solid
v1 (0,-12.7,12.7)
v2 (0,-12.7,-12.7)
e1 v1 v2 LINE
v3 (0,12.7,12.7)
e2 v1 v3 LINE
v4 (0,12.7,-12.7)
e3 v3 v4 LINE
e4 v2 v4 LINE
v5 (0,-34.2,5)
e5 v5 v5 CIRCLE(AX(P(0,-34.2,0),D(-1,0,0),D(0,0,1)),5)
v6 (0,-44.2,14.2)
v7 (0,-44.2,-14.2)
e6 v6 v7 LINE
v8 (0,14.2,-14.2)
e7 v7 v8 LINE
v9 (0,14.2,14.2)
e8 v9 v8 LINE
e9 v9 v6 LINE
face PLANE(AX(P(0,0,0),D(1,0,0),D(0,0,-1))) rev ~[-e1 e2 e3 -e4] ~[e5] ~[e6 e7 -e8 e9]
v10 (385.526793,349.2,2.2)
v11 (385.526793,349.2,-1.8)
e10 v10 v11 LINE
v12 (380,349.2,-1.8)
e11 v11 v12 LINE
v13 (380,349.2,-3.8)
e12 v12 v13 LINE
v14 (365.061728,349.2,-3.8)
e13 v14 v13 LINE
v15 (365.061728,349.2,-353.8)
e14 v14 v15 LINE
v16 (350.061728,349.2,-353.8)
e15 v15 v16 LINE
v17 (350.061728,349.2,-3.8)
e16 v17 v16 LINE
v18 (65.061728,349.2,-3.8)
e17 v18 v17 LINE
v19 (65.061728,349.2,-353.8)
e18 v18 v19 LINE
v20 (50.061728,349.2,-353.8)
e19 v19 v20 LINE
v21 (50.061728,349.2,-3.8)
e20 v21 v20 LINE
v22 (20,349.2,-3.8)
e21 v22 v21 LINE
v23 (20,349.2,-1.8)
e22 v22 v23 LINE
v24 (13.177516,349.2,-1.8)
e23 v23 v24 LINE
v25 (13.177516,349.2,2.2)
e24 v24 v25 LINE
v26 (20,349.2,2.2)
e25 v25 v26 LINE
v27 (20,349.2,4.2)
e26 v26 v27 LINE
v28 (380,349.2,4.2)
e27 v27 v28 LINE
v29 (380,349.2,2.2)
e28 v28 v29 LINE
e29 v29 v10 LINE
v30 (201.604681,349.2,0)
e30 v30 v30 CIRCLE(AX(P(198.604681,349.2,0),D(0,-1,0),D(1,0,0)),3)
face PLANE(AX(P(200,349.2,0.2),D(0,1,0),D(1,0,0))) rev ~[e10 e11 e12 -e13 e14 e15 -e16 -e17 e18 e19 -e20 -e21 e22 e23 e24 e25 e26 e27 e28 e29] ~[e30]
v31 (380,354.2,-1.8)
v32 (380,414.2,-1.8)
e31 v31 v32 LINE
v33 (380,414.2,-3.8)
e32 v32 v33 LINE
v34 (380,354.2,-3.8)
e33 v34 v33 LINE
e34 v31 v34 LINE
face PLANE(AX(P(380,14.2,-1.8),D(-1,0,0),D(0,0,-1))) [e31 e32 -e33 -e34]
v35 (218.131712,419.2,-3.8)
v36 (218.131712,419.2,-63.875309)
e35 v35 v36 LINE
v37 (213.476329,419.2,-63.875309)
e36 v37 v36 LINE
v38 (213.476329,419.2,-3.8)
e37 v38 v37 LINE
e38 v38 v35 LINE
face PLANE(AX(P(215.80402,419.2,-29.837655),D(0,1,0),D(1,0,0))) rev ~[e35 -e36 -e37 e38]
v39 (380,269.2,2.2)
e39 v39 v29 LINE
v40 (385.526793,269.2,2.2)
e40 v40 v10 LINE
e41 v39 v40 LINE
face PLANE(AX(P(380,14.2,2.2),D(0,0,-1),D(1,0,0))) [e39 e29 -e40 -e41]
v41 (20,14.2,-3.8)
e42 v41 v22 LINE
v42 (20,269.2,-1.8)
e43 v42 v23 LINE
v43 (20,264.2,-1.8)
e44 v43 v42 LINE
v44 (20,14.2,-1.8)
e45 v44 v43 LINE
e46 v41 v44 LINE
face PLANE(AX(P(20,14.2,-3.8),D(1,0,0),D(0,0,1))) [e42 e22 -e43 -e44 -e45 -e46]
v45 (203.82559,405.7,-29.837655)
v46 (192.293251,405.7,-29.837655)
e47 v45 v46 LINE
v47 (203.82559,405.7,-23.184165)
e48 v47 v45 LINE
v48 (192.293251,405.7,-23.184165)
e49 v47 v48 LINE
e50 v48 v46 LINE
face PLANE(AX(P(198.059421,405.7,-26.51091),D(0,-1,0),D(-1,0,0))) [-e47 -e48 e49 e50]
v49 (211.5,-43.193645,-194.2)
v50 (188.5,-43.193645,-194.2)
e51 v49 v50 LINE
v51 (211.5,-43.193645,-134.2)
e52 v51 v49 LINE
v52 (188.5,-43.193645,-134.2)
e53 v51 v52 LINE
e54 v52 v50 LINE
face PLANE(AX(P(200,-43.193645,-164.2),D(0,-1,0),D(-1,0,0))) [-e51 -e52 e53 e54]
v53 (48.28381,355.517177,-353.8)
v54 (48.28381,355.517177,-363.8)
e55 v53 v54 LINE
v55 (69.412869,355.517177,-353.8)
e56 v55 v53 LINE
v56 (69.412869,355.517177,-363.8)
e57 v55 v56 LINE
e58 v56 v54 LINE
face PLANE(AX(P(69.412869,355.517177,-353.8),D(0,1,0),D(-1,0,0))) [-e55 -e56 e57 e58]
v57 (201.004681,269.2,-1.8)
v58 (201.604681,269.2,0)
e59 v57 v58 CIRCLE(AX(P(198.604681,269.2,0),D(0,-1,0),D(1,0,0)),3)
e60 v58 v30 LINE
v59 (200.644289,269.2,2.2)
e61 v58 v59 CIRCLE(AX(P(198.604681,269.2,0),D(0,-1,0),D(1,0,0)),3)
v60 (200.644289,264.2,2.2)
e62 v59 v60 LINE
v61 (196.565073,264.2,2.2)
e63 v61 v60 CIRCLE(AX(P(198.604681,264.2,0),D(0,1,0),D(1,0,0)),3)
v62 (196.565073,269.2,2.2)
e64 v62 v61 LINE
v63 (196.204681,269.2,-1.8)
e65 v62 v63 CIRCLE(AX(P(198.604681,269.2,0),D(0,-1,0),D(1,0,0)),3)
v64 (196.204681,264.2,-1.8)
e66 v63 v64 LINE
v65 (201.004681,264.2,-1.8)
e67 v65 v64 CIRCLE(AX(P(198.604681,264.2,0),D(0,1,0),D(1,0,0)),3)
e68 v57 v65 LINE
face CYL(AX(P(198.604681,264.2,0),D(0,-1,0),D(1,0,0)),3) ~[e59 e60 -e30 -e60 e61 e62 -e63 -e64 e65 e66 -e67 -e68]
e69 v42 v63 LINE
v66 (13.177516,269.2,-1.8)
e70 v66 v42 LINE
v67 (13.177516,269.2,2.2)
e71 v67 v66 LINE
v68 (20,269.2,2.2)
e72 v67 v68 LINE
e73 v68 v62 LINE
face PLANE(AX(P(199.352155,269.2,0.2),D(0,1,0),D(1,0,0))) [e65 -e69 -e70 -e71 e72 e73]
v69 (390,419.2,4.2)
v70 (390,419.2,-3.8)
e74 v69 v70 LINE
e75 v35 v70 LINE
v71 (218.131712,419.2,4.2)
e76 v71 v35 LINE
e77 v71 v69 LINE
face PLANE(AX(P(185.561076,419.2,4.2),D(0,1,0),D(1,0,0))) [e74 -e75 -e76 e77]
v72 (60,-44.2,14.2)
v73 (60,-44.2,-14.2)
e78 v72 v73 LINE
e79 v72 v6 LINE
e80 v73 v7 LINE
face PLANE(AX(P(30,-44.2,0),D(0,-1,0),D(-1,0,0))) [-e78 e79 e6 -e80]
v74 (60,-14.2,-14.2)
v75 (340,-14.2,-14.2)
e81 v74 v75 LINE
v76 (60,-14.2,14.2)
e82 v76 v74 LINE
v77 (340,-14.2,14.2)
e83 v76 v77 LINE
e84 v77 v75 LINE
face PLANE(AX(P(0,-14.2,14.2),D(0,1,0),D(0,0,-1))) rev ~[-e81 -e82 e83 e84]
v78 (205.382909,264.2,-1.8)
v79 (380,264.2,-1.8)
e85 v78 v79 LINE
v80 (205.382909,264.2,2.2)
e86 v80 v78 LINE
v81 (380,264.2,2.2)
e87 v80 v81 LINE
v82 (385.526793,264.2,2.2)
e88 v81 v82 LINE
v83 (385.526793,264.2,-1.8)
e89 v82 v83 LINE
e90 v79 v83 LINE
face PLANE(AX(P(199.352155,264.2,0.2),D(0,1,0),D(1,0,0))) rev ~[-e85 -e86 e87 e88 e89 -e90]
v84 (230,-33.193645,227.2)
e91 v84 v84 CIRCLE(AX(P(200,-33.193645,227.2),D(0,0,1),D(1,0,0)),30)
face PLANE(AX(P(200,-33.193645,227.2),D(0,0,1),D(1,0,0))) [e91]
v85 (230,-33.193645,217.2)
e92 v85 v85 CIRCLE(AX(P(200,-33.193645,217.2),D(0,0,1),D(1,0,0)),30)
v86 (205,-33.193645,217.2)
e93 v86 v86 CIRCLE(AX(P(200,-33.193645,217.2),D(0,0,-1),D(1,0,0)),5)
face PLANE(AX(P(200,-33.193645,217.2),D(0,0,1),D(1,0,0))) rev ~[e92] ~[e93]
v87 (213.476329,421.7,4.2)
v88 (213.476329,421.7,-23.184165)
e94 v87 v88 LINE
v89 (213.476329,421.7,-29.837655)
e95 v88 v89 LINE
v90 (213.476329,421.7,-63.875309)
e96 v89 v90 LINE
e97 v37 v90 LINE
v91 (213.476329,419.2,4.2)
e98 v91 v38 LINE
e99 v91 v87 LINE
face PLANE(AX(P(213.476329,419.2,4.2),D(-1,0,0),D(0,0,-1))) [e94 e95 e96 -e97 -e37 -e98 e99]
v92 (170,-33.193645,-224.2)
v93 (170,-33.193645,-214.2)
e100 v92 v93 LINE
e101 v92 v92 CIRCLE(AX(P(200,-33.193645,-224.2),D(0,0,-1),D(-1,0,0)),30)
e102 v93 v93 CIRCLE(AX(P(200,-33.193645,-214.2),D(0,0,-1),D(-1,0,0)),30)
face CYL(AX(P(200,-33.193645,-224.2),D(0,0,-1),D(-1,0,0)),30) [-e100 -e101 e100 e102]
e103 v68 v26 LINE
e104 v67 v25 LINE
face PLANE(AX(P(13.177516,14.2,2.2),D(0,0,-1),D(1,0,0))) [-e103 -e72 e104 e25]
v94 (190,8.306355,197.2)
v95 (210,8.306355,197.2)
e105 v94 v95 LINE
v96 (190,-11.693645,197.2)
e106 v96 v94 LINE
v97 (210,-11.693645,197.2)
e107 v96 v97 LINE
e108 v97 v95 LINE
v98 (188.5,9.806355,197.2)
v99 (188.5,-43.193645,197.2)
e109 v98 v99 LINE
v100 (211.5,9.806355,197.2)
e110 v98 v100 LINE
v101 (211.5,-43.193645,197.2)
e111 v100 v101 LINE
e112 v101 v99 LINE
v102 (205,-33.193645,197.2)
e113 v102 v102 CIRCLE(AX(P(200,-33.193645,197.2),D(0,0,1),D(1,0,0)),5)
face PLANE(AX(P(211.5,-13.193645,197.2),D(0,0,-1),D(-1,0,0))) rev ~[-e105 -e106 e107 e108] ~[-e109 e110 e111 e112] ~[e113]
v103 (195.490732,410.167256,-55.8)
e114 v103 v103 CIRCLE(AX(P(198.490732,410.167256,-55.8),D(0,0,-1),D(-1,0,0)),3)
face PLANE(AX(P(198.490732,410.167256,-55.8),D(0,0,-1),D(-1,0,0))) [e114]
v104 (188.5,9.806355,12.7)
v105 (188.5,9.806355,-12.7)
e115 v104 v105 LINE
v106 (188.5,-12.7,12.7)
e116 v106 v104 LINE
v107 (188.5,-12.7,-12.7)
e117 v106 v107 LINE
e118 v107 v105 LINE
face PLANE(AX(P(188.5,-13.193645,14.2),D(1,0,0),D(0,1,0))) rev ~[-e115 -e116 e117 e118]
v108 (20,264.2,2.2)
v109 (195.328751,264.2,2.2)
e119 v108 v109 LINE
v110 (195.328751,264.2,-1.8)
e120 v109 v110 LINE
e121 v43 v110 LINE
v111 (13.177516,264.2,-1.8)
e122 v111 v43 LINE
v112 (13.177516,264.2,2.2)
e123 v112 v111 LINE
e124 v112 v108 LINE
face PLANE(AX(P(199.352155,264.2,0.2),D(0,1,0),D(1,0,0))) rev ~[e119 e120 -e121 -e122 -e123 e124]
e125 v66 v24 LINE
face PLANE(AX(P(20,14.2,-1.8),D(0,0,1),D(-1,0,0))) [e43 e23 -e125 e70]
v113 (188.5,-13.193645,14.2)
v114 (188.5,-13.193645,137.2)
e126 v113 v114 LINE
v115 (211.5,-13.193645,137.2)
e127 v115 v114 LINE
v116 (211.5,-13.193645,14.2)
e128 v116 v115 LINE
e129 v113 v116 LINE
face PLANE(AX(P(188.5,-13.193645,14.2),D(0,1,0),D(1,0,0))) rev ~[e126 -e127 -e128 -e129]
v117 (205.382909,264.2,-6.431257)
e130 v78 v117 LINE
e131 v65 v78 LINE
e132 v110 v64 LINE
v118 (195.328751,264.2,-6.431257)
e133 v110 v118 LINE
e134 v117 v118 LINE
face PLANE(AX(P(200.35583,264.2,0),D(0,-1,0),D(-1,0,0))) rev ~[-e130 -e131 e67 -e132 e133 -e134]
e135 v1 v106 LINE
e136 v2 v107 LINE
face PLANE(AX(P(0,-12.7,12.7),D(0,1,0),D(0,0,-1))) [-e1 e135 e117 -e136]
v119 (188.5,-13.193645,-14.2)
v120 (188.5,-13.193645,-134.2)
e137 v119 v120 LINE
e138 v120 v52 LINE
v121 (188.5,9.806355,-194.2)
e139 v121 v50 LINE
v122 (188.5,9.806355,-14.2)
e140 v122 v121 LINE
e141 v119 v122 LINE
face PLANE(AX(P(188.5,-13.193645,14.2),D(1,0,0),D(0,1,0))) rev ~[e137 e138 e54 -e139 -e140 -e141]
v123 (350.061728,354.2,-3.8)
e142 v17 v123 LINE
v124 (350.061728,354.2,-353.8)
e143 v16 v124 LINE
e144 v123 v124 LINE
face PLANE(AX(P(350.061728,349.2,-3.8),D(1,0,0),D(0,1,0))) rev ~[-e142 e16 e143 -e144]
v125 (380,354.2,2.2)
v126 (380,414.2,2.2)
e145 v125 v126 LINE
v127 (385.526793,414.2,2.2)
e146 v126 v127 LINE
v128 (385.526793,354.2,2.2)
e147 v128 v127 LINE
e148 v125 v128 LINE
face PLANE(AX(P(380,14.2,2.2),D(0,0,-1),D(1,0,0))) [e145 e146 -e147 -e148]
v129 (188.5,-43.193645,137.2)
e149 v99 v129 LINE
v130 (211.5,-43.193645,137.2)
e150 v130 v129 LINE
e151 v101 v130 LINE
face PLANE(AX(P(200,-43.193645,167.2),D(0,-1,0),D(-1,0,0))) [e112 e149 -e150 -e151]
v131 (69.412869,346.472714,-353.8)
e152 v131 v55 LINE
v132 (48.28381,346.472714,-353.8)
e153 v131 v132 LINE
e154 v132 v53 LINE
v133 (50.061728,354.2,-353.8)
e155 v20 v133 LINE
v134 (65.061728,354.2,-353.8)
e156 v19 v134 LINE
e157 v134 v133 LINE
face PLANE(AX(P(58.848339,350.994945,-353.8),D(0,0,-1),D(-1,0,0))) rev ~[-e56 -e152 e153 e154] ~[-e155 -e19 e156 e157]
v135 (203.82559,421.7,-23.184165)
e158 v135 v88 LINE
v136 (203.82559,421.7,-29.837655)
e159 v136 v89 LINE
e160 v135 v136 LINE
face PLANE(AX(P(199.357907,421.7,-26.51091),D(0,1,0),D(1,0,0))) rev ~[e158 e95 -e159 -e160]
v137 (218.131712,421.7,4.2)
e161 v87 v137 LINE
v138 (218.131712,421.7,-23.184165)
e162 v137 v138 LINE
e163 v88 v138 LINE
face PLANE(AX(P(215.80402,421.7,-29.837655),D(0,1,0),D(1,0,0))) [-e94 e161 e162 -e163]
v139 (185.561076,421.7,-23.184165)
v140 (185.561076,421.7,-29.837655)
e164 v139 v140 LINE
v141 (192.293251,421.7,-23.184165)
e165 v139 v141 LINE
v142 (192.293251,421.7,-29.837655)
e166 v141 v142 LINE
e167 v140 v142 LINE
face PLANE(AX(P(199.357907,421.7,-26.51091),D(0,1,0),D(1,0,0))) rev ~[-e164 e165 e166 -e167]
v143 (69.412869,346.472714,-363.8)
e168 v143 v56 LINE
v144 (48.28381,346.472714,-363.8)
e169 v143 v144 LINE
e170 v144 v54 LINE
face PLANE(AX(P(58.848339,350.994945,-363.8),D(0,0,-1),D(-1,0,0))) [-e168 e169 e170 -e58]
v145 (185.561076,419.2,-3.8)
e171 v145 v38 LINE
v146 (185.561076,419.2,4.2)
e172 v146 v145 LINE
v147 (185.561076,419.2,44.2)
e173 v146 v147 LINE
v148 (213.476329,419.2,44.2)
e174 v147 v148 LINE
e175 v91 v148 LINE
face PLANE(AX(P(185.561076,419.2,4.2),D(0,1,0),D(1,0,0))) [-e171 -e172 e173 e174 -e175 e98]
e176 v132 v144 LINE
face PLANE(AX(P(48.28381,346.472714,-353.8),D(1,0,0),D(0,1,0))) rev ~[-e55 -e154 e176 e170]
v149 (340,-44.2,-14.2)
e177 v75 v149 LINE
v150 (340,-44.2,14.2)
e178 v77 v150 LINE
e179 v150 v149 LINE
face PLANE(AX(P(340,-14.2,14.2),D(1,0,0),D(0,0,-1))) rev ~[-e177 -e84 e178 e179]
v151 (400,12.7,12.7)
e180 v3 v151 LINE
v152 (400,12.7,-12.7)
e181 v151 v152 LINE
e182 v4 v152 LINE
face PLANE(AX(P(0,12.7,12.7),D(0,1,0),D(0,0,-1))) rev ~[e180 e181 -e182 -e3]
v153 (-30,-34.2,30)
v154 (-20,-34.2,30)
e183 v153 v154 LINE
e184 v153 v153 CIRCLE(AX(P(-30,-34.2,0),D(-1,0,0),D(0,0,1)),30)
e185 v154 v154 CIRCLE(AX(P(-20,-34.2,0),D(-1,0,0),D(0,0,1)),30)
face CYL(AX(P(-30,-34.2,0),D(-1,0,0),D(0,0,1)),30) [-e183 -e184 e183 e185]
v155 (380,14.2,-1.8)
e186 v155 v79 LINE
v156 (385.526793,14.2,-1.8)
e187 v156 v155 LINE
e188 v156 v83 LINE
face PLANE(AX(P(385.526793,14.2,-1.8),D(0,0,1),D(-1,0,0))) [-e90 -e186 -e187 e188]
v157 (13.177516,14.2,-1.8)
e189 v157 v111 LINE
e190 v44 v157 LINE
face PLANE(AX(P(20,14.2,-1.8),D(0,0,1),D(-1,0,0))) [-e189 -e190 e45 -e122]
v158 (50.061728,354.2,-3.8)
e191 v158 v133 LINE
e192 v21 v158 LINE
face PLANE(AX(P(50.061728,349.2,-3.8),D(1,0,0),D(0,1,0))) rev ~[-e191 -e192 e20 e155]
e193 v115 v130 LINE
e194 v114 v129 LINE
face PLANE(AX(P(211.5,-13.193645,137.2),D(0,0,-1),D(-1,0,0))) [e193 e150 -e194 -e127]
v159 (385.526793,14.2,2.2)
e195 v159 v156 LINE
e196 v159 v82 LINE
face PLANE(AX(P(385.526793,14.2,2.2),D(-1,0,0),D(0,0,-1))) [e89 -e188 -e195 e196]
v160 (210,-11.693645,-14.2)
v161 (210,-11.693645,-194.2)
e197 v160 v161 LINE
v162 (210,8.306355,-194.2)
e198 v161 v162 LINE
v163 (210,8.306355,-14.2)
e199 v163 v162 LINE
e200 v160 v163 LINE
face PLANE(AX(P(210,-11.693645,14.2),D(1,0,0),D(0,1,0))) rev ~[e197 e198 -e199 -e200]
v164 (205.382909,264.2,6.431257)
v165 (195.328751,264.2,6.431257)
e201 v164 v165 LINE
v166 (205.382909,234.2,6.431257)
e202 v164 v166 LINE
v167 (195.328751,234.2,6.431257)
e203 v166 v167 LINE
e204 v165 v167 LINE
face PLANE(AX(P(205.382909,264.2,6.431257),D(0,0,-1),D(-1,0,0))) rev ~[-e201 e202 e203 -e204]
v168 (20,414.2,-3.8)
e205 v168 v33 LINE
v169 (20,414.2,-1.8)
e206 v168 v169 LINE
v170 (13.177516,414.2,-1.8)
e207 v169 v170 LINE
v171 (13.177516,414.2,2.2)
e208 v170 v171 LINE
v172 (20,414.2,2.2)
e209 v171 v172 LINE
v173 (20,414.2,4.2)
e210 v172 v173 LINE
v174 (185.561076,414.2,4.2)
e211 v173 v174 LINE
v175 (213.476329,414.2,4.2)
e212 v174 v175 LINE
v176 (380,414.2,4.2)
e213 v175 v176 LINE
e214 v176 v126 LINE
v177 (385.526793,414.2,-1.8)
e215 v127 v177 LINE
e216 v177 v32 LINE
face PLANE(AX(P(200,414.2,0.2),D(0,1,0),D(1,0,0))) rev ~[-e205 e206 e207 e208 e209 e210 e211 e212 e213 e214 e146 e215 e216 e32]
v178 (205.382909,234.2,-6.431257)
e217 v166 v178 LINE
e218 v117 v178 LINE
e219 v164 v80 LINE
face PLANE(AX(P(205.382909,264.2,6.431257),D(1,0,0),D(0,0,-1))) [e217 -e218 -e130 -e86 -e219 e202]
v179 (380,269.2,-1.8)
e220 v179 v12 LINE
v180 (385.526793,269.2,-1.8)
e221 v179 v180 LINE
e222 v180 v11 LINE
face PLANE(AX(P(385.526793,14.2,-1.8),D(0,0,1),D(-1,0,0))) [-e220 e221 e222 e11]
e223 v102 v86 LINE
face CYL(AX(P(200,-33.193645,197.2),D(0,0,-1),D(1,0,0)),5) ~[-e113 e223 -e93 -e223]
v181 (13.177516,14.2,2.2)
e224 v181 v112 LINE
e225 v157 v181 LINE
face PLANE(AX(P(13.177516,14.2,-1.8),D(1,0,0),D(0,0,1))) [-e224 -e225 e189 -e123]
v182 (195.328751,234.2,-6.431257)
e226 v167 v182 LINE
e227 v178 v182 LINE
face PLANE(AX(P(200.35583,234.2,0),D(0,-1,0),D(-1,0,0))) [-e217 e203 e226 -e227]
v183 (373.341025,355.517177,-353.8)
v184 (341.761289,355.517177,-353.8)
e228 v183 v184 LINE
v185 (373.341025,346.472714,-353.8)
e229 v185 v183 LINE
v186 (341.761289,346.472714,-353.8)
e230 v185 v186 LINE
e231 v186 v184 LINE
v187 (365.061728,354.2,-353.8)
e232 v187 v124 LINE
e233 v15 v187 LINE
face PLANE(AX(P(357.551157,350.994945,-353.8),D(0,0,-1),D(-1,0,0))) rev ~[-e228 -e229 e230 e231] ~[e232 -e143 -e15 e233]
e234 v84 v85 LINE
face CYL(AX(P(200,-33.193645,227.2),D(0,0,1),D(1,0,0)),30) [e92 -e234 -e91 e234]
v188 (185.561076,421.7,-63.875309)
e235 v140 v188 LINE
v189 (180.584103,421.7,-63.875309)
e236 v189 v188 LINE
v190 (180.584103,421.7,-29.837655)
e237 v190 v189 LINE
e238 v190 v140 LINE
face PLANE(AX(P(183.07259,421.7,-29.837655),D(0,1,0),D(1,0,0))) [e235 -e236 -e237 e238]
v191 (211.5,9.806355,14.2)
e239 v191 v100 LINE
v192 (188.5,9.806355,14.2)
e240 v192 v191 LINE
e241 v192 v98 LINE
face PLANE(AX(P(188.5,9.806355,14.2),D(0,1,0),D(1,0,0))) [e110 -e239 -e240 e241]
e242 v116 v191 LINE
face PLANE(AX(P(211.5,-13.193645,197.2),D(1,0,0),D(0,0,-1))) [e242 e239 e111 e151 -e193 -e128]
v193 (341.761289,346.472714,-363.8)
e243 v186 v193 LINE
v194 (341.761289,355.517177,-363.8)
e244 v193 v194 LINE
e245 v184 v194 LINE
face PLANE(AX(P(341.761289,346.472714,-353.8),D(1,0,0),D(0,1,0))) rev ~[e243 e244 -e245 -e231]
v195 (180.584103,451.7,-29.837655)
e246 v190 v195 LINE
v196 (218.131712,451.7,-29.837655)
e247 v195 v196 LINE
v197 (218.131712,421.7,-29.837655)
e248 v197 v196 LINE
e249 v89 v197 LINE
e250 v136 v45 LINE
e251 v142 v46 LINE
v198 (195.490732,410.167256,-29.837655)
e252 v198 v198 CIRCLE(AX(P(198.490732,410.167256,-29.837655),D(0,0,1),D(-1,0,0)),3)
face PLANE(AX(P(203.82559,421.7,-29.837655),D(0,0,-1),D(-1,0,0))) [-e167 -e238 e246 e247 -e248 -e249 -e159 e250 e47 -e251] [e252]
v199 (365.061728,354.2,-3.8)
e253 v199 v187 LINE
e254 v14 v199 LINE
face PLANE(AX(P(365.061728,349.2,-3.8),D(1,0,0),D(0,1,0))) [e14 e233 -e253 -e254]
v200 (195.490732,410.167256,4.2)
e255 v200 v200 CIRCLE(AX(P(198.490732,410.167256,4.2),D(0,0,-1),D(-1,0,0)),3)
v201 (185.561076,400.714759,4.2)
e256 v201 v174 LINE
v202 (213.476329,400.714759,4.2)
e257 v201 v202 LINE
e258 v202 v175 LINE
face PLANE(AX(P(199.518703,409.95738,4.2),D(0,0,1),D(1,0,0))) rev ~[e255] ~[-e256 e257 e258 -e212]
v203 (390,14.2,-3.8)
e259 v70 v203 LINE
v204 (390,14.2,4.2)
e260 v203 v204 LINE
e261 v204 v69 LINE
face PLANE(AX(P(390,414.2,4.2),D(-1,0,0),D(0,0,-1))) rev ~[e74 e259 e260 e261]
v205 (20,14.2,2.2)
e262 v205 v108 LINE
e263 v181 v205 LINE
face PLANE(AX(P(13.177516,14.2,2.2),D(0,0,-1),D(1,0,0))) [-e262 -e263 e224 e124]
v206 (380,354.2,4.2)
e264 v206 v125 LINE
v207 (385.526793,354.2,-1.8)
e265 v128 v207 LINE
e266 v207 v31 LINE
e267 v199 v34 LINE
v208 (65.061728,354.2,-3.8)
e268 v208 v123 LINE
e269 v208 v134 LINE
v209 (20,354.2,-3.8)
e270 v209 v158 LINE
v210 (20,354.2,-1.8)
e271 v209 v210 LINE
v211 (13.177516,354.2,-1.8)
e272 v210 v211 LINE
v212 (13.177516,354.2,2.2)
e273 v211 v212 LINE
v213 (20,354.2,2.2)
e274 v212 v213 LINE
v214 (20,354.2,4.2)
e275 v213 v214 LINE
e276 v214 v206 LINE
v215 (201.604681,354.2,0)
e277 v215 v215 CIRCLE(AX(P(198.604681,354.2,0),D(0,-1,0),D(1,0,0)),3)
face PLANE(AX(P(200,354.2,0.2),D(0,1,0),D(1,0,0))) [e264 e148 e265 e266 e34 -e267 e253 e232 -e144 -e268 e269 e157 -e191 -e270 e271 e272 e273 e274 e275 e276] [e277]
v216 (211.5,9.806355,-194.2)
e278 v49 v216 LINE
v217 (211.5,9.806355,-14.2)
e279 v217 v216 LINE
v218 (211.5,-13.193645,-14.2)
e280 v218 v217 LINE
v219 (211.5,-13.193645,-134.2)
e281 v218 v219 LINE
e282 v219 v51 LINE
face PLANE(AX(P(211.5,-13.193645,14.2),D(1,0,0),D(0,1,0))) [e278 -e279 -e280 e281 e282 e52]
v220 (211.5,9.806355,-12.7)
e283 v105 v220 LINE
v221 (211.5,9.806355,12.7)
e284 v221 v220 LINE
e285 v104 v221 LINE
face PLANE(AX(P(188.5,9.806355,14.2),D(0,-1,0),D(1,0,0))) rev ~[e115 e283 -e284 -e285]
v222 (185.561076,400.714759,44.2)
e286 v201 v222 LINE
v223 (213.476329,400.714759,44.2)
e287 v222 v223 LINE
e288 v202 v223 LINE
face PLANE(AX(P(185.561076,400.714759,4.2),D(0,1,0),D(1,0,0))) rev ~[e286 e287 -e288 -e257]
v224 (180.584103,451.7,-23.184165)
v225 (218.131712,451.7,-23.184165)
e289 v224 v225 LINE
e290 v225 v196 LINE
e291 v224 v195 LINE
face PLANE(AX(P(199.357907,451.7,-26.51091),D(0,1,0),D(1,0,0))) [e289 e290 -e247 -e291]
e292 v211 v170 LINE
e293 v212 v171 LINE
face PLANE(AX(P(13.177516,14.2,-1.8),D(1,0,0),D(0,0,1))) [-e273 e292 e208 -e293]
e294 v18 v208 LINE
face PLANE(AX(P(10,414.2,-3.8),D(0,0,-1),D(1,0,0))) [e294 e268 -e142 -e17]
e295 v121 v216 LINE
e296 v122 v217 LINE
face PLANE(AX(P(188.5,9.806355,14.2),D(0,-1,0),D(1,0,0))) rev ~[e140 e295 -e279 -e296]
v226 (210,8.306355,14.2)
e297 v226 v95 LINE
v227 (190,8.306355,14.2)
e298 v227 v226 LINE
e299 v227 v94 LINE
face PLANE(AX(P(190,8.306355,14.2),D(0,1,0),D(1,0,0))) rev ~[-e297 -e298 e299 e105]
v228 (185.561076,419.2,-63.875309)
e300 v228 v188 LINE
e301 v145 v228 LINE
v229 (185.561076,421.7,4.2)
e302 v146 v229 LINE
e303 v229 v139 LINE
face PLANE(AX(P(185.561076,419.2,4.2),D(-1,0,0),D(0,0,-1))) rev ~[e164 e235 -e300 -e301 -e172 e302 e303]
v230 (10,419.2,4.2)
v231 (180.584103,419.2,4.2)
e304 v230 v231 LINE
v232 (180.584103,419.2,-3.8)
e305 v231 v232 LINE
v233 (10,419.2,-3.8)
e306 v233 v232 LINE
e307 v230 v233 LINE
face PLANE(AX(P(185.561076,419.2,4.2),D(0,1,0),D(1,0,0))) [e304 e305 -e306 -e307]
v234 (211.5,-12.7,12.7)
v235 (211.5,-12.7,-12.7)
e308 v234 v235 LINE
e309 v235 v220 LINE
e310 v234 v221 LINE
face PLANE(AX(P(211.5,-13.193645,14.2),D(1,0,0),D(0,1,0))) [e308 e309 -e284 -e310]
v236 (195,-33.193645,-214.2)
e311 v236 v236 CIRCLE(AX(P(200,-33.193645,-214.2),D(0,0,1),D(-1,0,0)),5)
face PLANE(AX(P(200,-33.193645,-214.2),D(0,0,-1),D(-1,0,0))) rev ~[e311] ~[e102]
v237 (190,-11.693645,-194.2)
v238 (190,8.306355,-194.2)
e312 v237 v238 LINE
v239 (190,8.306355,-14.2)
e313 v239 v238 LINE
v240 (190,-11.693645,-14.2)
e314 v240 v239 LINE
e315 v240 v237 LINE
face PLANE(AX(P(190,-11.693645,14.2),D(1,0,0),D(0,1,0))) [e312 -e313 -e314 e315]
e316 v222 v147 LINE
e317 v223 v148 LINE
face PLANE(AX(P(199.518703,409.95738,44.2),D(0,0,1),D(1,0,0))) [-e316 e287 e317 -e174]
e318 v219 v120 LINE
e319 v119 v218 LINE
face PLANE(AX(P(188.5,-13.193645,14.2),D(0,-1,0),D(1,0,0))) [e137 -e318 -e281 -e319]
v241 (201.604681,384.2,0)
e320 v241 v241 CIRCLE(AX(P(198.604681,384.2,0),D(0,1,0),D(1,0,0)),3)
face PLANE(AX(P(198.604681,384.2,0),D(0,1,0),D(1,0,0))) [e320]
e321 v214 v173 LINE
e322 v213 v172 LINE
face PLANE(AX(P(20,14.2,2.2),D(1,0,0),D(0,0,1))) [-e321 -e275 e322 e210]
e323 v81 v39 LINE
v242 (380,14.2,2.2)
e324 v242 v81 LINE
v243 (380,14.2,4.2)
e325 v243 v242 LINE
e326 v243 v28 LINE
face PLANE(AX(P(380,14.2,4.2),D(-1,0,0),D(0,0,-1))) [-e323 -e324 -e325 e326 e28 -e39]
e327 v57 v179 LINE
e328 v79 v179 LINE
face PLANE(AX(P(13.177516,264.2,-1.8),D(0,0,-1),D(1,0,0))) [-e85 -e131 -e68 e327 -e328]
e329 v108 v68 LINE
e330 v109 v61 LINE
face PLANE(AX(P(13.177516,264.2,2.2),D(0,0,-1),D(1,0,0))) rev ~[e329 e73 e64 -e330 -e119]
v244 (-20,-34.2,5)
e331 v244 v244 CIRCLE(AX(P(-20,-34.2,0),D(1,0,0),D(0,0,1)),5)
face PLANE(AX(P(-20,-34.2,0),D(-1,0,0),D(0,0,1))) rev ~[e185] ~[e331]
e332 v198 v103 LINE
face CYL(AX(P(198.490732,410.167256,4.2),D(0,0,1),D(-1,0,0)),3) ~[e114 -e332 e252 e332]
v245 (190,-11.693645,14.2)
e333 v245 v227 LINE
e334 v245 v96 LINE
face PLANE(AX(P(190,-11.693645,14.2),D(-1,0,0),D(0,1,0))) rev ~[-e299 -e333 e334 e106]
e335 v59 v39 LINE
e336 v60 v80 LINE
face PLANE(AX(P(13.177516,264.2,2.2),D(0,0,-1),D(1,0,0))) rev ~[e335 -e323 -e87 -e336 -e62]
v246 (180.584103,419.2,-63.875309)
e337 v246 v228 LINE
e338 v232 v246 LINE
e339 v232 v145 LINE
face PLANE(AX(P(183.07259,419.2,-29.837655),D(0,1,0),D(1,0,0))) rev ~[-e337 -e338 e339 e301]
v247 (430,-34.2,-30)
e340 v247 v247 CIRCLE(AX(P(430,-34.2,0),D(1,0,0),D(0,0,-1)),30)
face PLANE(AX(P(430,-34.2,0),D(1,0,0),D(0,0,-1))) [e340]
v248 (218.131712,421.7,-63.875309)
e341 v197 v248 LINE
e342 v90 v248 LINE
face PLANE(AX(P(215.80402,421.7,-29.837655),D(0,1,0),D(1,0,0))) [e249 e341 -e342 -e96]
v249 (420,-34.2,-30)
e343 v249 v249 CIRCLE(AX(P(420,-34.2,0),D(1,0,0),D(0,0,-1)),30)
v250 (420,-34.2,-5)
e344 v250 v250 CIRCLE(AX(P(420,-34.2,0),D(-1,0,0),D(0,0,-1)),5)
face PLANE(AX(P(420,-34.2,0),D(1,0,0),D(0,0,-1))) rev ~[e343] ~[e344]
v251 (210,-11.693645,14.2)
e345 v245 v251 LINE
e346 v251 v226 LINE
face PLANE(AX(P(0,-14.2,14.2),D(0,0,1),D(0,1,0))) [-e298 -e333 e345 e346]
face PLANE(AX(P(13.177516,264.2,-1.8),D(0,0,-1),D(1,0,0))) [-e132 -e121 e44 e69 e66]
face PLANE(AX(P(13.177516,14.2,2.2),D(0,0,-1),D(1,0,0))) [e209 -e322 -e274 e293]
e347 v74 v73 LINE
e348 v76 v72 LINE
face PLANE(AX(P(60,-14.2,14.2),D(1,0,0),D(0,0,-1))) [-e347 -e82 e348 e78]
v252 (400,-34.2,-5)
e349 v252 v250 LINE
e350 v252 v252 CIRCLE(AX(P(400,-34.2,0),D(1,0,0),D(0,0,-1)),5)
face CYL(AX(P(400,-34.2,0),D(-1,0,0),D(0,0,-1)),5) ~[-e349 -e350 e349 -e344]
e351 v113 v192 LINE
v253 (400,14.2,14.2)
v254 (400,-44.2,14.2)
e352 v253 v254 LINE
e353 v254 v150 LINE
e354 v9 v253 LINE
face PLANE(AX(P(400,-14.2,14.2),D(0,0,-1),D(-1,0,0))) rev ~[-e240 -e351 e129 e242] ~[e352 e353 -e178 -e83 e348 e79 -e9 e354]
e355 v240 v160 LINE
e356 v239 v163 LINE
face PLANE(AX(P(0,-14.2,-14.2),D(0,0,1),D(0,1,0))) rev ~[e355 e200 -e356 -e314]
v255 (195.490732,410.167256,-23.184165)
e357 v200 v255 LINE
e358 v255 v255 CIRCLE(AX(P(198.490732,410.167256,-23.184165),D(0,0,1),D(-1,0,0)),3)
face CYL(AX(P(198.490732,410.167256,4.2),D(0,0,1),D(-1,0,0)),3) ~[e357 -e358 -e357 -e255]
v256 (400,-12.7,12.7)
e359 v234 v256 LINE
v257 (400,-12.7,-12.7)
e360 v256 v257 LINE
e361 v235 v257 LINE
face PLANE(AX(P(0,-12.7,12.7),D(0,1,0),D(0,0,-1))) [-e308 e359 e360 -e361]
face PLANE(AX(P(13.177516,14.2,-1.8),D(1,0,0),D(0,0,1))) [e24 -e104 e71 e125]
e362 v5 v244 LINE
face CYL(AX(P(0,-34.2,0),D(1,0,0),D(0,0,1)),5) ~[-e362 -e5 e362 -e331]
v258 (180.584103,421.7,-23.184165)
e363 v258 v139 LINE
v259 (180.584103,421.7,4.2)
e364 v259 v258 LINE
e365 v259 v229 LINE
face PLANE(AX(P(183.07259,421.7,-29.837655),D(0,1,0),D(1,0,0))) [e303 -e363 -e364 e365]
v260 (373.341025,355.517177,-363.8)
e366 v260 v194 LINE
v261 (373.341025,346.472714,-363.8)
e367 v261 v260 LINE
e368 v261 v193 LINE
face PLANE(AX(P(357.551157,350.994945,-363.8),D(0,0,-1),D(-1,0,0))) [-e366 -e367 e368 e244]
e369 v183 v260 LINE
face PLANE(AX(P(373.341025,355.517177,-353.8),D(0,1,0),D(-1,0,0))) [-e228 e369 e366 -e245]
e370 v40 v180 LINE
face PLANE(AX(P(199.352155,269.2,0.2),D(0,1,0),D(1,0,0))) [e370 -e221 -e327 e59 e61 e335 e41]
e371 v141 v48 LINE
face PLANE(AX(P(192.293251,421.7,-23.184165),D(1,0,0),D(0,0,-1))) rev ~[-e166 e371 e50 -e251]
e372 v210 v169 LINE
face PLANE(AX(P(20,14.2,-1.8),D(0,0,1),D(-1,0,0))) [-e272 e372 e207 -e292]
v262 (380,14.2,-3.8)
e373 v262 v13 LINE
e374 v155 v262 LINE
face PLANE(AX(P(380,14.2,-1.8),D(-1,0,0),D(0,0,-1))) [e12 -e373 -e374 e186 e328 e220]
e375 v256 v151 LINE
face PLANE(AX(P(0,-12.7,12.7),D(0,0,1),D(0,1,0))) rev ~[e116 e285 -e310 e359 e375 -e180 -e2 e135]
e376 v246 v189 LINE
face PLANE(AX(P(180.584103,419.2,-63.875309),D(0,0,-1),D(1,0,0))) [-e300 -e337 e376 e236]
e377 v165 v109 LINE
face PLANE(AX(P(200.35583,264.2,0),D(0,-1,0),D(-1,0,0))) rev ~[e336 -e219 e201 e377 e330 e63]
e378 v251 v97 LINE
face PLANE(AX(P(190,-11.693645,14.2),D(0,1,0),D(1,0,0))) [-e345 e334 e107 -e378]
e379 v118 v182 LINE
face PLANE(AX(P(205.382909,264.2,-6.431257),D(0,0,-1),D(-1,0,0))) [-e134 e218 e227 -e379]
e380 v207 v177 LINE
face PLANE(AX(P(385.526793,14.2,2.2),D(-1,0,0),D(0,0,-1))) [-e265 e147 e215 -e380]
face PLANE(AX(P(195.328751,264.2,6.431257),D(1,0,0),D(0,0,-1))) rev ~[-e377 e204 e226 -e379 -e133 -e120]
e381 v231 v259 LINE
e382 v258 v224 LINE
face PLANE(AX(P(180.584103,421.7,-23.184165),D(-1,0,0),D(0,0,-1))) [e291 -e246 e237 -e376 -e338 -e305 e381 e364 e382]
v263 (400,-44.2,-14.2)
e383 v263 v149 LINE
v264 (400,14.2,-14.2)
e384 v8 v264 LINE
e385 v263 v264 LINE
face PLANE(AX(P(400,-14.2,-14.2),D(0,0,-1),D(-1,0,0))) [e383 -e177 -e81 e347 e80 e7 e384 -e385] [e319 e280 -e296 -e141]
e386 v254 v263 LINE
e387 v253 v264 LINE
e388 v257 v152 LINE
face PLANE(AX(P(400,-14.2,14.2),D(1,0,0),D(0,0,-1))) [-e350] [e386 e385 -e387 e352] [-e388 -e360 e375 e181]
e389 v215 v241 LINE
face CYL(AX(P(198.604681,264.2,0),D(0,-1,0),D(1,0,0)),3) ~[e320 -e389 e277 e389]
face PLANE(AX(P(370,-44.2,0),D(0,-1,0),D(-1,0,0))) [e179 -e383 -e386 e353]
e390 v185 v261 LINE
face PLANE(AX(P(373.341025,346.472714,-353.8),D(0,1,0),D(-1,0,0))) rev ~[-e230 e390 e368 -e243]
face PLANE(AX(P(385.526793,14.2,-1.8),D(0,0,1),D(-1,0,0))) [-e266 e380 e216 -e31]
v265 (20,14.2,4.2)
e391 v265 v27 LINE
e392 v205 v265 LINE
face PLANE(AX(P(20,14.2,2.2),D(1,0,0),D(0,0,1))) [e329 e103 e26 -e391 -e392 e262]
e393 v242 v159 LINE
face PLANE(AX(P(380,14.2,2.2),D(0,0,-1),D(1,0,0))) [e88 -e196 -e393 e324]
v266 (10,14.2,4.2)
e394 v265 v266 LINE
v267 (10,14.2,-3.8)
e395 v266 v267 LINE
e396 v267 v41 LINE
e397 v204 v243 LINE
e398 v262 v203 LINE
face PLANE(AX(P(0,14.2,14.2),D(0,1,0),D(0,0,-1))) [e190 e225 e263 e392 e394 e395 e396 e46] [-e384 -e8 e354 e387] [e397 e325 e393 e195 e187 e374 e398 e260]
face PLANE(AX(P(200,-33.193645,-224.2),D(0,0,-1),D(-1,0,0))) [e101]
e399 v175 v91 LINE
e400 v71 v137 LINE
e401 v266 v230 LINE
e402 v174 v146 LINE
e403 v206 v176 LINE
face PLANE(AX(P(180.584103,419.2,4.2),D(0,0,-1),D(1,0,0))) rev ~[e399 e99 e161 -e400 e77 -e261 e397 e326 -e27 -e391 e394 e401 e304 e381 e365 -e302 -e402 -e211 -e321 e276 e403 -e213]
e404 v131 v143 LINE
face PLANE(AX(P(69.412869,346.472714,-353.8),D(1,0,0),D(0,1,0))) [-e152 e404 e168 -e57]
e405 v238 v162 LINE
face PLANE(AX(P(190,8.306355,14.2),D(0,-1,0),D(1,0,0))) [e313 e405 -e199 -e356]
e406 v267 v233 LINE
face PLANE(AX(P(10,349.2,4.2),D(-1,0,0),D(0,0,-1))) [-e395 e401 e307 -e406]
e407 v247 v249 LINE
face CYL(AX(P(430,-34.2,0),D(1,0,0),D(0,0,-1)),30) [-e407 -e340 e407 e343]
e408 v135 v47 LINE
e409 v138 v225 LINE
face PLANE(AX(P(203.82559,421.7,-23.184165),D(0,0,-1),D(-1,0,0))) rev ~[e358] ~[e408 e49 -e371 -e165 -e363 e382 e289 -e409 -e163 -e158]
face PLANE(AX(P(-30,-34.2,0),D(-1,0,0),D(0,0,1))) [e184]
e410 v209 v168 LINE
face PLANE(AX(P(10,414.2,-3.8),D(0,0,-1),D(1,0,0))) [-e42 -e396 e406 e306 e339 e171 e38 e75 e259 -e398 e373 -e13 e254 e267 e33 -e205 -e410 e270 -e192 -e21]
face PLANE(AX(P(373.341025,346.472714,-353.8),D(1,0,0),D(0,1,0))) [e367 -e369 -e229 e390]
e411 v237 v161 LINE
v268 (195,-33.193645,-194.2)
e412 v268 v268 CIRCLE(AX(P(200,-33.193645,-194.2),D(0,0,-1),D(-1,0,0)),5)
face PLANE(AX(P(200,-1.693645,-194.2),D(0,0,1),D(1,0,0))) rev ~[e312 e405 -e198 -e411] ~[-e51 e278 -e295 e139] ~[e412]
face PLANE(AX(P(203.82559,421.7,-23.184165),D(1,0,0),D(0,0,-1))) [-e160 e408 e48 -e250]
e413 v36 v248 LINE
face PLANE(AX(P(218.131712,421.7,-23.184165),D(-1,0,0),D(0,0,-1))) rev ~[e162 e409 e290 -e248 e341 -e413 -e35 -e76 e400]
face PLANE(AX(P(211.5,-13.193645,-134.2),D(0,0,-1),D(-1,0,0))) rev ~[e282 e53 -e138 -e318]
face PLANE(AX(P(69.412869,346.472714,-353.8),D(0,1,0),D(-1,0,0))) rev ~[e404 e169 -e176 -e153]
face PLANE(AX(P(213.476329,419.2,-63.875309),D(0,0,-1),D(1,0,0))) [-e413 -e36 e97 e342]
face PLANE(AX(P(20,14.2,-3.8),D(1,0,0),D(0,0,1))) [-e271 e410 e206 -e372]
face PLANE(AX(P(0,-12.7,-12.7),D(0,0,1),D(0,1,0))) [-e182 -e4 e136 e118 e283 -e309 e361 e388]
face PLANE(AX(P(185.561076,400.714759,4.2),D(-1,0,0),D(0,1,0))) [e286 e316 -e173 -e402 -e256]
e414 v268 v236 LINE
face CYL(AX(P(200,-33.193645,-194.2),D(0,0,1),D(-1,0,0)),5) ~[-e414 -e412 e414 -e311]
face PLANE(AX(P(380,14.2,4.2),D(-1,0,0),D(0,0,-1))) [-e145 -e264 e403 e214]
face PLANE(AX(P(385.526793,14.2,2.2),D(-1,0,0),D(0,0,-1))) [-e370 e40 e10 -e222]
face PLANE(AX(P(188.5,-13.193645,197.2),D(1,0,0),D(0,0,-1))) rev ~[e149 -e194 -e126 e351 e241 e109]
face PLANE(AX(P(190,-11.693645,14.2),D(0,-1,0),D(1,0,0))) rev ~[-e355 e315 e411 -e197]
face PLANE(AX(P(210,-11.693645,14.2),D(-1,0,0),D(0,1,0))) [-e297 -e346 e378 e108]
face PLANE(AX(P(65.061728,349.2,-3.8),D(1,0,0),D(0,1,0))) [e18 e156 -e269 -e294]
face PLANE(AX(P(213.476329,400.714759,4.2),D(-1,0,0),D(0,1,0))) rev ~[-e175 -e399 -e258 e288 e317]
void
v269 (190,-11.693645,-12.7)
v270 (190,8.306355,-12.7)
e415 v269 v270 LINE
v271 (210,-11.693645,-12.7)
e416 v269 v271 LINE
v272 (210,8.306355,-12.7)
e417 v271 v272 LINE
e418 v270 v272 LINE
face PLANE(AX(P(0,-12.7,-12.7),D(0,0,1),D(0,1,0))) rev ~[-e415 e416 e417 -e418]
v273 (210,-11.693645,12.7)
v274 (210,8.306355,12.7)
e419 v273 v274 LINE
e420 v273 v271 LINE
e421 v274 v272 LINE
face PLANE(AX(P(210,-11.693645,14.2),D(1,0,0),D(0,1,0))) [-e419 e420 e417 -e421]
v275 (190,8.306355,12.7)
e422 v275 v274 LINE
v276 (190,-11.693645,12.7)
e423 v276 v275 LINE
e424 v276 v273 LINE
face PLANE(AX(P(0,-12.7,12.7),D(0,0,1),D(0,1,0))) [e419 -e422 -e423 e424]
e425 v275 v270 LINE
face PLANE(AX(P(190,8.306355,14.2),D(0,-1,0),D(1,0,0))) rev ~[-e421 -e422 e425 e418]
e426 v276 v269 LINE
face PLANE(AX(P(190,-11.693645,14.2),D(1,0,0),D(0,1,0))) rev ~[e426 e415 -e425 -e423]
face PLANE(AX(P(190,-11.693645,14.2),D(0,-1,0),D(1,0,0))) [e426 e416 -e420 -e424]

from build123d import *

# Parameters (mm, degrees)
SKETCH1_W                = 28.4
SKETCH1_H                = 28.4
SKETCH1_W_2              = 25.4
SKETCH1_H_2              = 25.4
EXTRUDE_THIN1_DEPTH      = 400
SKETCH2_W                = 23
SKETCH2_H                = 23
SKETCH2_W_2              = 20
SKETCH2_H_2              = 20
EXTRUDE_THIN2_DEPTH      = 183
EXTRUDE_THIN2_DEPTH_BACK = 208.4
SKETCH3_W                = 60
SKETCH3_H                = 28.4
BOSS_EXTRUDE1_DEPTH      = 30
SKETCH4_W                = 23
SKETCH4_H                = 60
BOSS_EXTRUDE2_DEPTH      = 30
SKETCH5_R                = 5
BOSS_EXTRUDE3_DEPTH      = 30
SKETCH6_R                = 5
BOSS_EXTRUDE4_DEPTH      = 30
SKETCH7_R                = 5
BOSS_EXTRUDE5_DEPTH      = 30
SKETCH8_R                = 5
BOSS_EXTRUDE6_DEPTH      = 30
BOSS_EXTRUDE7_DEPTH      = 400
SKETCH10_W               = 372.349277715
SKETCH10_H               = 4
BOSS_EXTRUDE8_DEPTH      = 5
SKETCH11_W               = 380
SKETCH11_H               = 8
BOSS_EXTRUDE9_DEPTH      = 5
SKETCH12_W               = 27.915252313
SKETCH12_H               = 18.485240527
BOSS_EXTRUDE10_DEPTH     = 40
SKETCH13_R               = 3
BOSS_EXTRUDE11_DEPTH     = 60
SKETCH14_W               = 4.655382852
SKETCH14_H               = 68.075309474
SKETCH14_W_2             = 4.976973146
BOSS_EXTRUDE12_DEPTH     = 2.5
SKETCH15_W               = 37.547608311
SKETCH15_H               = 6.653489581
BOSS_EXTRUDE13_DEPTH     = 30
SKETCH16_W               = 11.532338845
SKETCH16_H               = 6.653489581
BOSS_EXTRUDE14_DEPTH     = 16
SKETCH17_W               = 10.054157613
SKETCH17_H               = 12.862513988
BOSS_EXTRUDE15_DEPTH     = 30
SKETCH18_R               = 3
BOSS_EXTRUDE16_DEPTH     = 120
SKETCH19_W               = 380
SKETCH19_H               = 8
BOSS_EXTRUDE17_DEPTH     = 5
SKETCH22_W               = 15
SKETCH22_H               = 5
BOSS_EXTRUDE18_DEPTH     = 350
SKETCH23_W               = 21.129059452
SKETCH23_H               = 9.044463221
SKETCH23_W_2             = 31.579735641
BOSS_EXTRUDE19_DEPTH     = 10
SKETCH24_R               = 30
BOSS_EXTRUDE20_DEPTH     = 10
SKETCH25_R               = 30
BOSS_EXTRUDE21_DEPTH     = 10
SKETCH26_R               = 30
BOSS_EXTRUDE22_DEPTH     = 10
SKETCH27_R               = 30
BOSS_EXTRUDE23_DEPTH     = 10


with BuildPart() as part:
    # Sketch1 → Extrude-Thin1 (new body)
    with BuildSketch(Plane(origin=(0, 0, 0), x_dir=(0, 0, -1), z_dir=(1, 0, 0))):
        Rectangle(SKETCH1_W, SKETCH1_H)
        Rectangle(SKETCH1_W_2, SKETCH1_H_2, mode=Mode.SUBTRACT)
    extrude(amount=EXTRUDE_THIN1_DEPTH)

    # Sketch2 → Extrude-Thin2 (add, two sides)
    with BuildSketch(Plane.XY.offset(14.2)) as extrude_thin2_sk:
        with Locations((200, -1.693644648)):
            Rectangle(SKETCH2_W, SKETCH2_H)
        with Locations((200, -1.693644648)):
            Rectangle(SKETCH2_W_2, SKETCH2_H_2, mode=Mode.SUBTRACT)
    extrude(amount=EXTRUDE_THIN2_DEPTH)
    extrude(extrude_thin2_sk.sketch, amount=-EXTRUDE_THIN2_DEPTH_BACK)

    # Sketch3 → Boss-Extrude1 (add)
    with BuildSketch(Plane(origin=(0, -14.2, 0), x_dir=(-1, 0, 0), z_dir=(0, -1, 0))):
        with Locations((-370, 0)):
            Rectangle(SKETCH3_W, SKETCH3_H)
        with Locations((-30, 0)):
            Rectangle(SKETCH3_W, SKETCH3_H)
    extrude(amount=BOSS_EXTRUDE1_DEPTH)

    # Sketch4 → Boss-Extrude2 (add)
    with BuildSketch(Plane(origin=(0, -13.193644648, 0), x_dir=(-1, 0, 0), z_dir=(0, -1, 0))):
        with Locations((-200, -167.2)):
            Rectangle(SKETCH4_W, SKETCH4_H)
        with Locations((-200, 164.2)):
            Rectangle(SKETCH4_W, SKETCH4_H)
    extrude(amount=BOSS_EXTRUDE2_DEPTH)

    # Sketch5 → Boss-Extrude3 (add)
    with BuildSketch(Plane(origin=(400, 0, 0), x_dir=(0, 0, -1), z_dir=(1, 0, 0))):
        with Locations((0, -34.2)):
            Circle(SKETCH5_R)
    extrude(amount=BOSS_EXTRUDE3_DEPTH)

    # Sketch6 → Boss-Extrude4 (add)
    with BuildSketch(Plane(origin=(0, 0, -194.2), x_dir=(-1, 0, 0), z_dir=(0, 0, -1))):
        with Locations((-200, -33.193644648)):
            Circle(SKETCH6_R)
    extrude(amount=BOSS_EXTRUDE4_DEPTH)

    # Sketch7 → Boss-Extrude5 (add)
    with BuildSketch(Plane.ZY):
        with Locations((0, -34.2)):
            Circle(SKETCH7_R)
    extrude(amount=BOSS_EXTRUDE5_DEPTH)

    # Sketch8 → Boss-Extrude6 (add)
    with BuildSketch(Plane.XY.offset(197.2)):
        with Locations((200, -33.193644648)):
            Circle(SKETCH8_R)
    extrude(amount=BOSS_EXTRUDE6_DEPTH)

    # Sketch9 → Boss-Extrude7 (add)
    with BuildSketch(Plane(origin=(0, 14.2, 0), x_dir=(1, 0, 0), z_dir=(0, 1, 0))):
        Polygon((10, 3.8), (20, 3.8), (20, 1.8), (13.177515759, 1.8), (13.177515759, -2.2), (20, -2.2), (20, -4.2), (10, -4.2), align=None)
        Polygon((380, 3.8), (390, 3.8), (390, -4.2), (380, -4.2), (380, -2.2), (385.526793474, -2.2), (385.526793474, 1.8), (380, 1.8), align=None)
    extrude(amount=BOSS_EXTRUDE7_DEPTH)

    # Sketch10 → Boss-Extrude8 (add)
    with BuildSketch(Plane(origin=(0, 264.2, 0), x_dir=(1, 0, 0), z_dir=(0, 1, 0))):
        with Locations((199.352154617, -0.2)):
            Rectangle(SKETCH10_W, SKETCH10_H)
    extrude(amount=BOSS_EXTRUDE8_DEPTH)

    # Sketch11 → Boss-Extrude9 (add)
    with BuildSketch(Plane(origin=(0, 414.2, 0), x_dir=(1, 0, 0), z_dir=(0, 1, 0))):
        with Locations((200, -0.2)):
            Rectangle(SKETCH11_W, SKETCH11_H)
    extrude(amount=BOSS_EXTRUDE9_DEPTH)

    # Sketch12 → Boss-Extrude10 (add)
    with BuildSketch(Plane.XY.offset(4.2)):
        with Locations((199.518702547, 409.957379737)):
            Rectangle(SKETCH12_W, SKETCH12_H)
    extrude(amount=BOSS_EXTRUDE10_DEPTH)

    # Sketch13 → Boss-Extrude11 (add)
    with BuildSketch(Plane(origin=(0, 0, 4.2), x_dir=(-1, 0, 0), z_dir=(0, 0, -1))):
        with Locations((-198.49073191, 410.167255752)):
            Circle(SKETCH13_R)
    extrude(amount=BOSS_EXTRUDE11_DEPTH)

    # Sketch14 → Boss-Extrude12 (add)
    with BuildSketch(Plane(origin=(0, 419.2, 0), x_dir=(1, 0, 0), z_dir=(0, 1, 0))):
        with Locations((215.804020129, 29.837654737)):
            Rectangle(SKETCH14_W, SKETCH14_H)
        with Locations((183.072589817, 29.837654737)):
            Rectangle(SKETCH14_W_2, SKETCH14_H)
    extrude(amount=BOSS_EXTRUDE12_DEPTH)

    # Sketch15 → Boss-Extrude13 (add)
    with BuildSketch(Plane(origin=(0, 421.7, 0), x_dir=(1, 0, 0), z_dir=(0, 1, 0))):
        with Locations((199.357907399, 26.510909946)):
            Rectangle(SKETCH15_W, SKETCH15_H)
    extrude(amount=BOSS_EXTRUDE13_DEPTH)

    # Sketch16 → Boss-Extrude14 (add)
    with BuildSketch(Plane(origin=(0, 421.7, 0), x_dir=(-1, 0, 0), z_dir=(0, -1, 0))):
        with Locations((-198.059420633, 26.510909946)):
            Rectangle(SKETCH16_W, SKETCH16_H)
    extrude(amount=BOSS_EXTRUDE14_DEPTH)

    # Sketch17 → Boss-Extrude15 (add)
    with BuildSketch(Plane(origin=(0, 264.2, 0), x_dir=(-1, 0, 0), z_dir=(0, -1, 0))):
        with Locations((-200.355829852, 0)):
            Rectangle(SKETCH17_W, SKETCH17_H)
    extrude(amount=BOSS_EXTRUDE15_DEPTH)

    # Sketch18 → Boss-Extrude16 (add)
    with BuildSketch(Plane(origin=(0, 264.2, 0), x_dir=(1, 0, 0), z_dir=(0, 1, 0))):
        with Locations((198.604681124, 0)):
            Circle(SKETCH18_R)
    extrude(amount=BOSS_EXTRUDE16_DEPTH)

    # Sketch19 → Boss-Extrude17 (add)
    with BuildSketch(Plane(origin=(0, 349.2, 0), x_dir=(1, 0, 0), z_dir=(0, 1, 0))):
        with Locations((200, -0.2)):
            Rectangle(SKETCH19_W, SKETCH19_H)
    extrude(amount=BOSS_EXTRUDE17_DEPTH)

    # Sketch22 → Boss-Extrude18 (add)
    with BuildSketch(Plane(origin=(0, 0, -3.8), x_dir=(-1, 0, 0), z_dir=(0, 0, -1))):
        with Locations((-357.561728319, 351.7)):
            Rectangle(SKETCH22_W, SKETCH22_H)
        with Locations((-57.561728319, 351.7)):
            Rectangle(SKETCH22_W, SKETCH22_H)
    extrude(amount=BOSS_EXTRUDE18_DEPTH)

    # Sketch23 → Boss-Extrude19 (add)
    with BuildSketch(Plane(origin=(0, 0, -353.8), x_dir=(-1, 0, 0), z_dir=(0, 0, -1))):
        with Locations((-58.848339235, 350.994945207)):
            Rectangle(SKETCH23_W, SKETCH23_H)
        with Locations((-357.551157011, 350.994945207)):
            Rectangle(SKETCH23_W_2, SKETCH23_H)
    extrude(amount=BOSS_EXTRUDE19_DEPTH)

    # Sketch24 → Boss-Extrude20 (add)
    with BuildSketch(Plane(origin=(0, 0, -224.2), x_dir=(-1, 0, 0), z_dir=(0, 0, -1))):
        with Locations((-200, -33.193644648)):
            Circle(SKETCH24_R)
    extrude(amount=-BOSS_EXTRUDE20_DEPTH)

    # Sketch25 → Boss-Extrude21 (add)
    with BuildSketch(Plane.ZY.offset(30)):
        with Locations((0, -34.2)):
            Circle(SKETCH25_R)
    extrude(amount=-BOSS_EXTRUDE21_DEPTH)

    # Sketch26 → Boss-Extrude22 (add)
    with BuildSketch(Plane.XY.offset(227.2)):
        with Locations((200, -33.193644648)):
            Circle(SKETCH26_R)
    extrude(amount=-BOSS_EXTRUDE22_DEPTH)

    # Sketch27 → Boss-Extrude23 (add)
    with BuildSketch(Plane(origin=(430, 0, 0), x_dir=(0, 0, -1), z_dir=(1, 0, 0))):
        with Locations((0, -34.2)):
            Circle(SKETCH27_R)
    extrude(amount=-BOSS_EXTRUDE23_DEPTH)


solid = part.part
